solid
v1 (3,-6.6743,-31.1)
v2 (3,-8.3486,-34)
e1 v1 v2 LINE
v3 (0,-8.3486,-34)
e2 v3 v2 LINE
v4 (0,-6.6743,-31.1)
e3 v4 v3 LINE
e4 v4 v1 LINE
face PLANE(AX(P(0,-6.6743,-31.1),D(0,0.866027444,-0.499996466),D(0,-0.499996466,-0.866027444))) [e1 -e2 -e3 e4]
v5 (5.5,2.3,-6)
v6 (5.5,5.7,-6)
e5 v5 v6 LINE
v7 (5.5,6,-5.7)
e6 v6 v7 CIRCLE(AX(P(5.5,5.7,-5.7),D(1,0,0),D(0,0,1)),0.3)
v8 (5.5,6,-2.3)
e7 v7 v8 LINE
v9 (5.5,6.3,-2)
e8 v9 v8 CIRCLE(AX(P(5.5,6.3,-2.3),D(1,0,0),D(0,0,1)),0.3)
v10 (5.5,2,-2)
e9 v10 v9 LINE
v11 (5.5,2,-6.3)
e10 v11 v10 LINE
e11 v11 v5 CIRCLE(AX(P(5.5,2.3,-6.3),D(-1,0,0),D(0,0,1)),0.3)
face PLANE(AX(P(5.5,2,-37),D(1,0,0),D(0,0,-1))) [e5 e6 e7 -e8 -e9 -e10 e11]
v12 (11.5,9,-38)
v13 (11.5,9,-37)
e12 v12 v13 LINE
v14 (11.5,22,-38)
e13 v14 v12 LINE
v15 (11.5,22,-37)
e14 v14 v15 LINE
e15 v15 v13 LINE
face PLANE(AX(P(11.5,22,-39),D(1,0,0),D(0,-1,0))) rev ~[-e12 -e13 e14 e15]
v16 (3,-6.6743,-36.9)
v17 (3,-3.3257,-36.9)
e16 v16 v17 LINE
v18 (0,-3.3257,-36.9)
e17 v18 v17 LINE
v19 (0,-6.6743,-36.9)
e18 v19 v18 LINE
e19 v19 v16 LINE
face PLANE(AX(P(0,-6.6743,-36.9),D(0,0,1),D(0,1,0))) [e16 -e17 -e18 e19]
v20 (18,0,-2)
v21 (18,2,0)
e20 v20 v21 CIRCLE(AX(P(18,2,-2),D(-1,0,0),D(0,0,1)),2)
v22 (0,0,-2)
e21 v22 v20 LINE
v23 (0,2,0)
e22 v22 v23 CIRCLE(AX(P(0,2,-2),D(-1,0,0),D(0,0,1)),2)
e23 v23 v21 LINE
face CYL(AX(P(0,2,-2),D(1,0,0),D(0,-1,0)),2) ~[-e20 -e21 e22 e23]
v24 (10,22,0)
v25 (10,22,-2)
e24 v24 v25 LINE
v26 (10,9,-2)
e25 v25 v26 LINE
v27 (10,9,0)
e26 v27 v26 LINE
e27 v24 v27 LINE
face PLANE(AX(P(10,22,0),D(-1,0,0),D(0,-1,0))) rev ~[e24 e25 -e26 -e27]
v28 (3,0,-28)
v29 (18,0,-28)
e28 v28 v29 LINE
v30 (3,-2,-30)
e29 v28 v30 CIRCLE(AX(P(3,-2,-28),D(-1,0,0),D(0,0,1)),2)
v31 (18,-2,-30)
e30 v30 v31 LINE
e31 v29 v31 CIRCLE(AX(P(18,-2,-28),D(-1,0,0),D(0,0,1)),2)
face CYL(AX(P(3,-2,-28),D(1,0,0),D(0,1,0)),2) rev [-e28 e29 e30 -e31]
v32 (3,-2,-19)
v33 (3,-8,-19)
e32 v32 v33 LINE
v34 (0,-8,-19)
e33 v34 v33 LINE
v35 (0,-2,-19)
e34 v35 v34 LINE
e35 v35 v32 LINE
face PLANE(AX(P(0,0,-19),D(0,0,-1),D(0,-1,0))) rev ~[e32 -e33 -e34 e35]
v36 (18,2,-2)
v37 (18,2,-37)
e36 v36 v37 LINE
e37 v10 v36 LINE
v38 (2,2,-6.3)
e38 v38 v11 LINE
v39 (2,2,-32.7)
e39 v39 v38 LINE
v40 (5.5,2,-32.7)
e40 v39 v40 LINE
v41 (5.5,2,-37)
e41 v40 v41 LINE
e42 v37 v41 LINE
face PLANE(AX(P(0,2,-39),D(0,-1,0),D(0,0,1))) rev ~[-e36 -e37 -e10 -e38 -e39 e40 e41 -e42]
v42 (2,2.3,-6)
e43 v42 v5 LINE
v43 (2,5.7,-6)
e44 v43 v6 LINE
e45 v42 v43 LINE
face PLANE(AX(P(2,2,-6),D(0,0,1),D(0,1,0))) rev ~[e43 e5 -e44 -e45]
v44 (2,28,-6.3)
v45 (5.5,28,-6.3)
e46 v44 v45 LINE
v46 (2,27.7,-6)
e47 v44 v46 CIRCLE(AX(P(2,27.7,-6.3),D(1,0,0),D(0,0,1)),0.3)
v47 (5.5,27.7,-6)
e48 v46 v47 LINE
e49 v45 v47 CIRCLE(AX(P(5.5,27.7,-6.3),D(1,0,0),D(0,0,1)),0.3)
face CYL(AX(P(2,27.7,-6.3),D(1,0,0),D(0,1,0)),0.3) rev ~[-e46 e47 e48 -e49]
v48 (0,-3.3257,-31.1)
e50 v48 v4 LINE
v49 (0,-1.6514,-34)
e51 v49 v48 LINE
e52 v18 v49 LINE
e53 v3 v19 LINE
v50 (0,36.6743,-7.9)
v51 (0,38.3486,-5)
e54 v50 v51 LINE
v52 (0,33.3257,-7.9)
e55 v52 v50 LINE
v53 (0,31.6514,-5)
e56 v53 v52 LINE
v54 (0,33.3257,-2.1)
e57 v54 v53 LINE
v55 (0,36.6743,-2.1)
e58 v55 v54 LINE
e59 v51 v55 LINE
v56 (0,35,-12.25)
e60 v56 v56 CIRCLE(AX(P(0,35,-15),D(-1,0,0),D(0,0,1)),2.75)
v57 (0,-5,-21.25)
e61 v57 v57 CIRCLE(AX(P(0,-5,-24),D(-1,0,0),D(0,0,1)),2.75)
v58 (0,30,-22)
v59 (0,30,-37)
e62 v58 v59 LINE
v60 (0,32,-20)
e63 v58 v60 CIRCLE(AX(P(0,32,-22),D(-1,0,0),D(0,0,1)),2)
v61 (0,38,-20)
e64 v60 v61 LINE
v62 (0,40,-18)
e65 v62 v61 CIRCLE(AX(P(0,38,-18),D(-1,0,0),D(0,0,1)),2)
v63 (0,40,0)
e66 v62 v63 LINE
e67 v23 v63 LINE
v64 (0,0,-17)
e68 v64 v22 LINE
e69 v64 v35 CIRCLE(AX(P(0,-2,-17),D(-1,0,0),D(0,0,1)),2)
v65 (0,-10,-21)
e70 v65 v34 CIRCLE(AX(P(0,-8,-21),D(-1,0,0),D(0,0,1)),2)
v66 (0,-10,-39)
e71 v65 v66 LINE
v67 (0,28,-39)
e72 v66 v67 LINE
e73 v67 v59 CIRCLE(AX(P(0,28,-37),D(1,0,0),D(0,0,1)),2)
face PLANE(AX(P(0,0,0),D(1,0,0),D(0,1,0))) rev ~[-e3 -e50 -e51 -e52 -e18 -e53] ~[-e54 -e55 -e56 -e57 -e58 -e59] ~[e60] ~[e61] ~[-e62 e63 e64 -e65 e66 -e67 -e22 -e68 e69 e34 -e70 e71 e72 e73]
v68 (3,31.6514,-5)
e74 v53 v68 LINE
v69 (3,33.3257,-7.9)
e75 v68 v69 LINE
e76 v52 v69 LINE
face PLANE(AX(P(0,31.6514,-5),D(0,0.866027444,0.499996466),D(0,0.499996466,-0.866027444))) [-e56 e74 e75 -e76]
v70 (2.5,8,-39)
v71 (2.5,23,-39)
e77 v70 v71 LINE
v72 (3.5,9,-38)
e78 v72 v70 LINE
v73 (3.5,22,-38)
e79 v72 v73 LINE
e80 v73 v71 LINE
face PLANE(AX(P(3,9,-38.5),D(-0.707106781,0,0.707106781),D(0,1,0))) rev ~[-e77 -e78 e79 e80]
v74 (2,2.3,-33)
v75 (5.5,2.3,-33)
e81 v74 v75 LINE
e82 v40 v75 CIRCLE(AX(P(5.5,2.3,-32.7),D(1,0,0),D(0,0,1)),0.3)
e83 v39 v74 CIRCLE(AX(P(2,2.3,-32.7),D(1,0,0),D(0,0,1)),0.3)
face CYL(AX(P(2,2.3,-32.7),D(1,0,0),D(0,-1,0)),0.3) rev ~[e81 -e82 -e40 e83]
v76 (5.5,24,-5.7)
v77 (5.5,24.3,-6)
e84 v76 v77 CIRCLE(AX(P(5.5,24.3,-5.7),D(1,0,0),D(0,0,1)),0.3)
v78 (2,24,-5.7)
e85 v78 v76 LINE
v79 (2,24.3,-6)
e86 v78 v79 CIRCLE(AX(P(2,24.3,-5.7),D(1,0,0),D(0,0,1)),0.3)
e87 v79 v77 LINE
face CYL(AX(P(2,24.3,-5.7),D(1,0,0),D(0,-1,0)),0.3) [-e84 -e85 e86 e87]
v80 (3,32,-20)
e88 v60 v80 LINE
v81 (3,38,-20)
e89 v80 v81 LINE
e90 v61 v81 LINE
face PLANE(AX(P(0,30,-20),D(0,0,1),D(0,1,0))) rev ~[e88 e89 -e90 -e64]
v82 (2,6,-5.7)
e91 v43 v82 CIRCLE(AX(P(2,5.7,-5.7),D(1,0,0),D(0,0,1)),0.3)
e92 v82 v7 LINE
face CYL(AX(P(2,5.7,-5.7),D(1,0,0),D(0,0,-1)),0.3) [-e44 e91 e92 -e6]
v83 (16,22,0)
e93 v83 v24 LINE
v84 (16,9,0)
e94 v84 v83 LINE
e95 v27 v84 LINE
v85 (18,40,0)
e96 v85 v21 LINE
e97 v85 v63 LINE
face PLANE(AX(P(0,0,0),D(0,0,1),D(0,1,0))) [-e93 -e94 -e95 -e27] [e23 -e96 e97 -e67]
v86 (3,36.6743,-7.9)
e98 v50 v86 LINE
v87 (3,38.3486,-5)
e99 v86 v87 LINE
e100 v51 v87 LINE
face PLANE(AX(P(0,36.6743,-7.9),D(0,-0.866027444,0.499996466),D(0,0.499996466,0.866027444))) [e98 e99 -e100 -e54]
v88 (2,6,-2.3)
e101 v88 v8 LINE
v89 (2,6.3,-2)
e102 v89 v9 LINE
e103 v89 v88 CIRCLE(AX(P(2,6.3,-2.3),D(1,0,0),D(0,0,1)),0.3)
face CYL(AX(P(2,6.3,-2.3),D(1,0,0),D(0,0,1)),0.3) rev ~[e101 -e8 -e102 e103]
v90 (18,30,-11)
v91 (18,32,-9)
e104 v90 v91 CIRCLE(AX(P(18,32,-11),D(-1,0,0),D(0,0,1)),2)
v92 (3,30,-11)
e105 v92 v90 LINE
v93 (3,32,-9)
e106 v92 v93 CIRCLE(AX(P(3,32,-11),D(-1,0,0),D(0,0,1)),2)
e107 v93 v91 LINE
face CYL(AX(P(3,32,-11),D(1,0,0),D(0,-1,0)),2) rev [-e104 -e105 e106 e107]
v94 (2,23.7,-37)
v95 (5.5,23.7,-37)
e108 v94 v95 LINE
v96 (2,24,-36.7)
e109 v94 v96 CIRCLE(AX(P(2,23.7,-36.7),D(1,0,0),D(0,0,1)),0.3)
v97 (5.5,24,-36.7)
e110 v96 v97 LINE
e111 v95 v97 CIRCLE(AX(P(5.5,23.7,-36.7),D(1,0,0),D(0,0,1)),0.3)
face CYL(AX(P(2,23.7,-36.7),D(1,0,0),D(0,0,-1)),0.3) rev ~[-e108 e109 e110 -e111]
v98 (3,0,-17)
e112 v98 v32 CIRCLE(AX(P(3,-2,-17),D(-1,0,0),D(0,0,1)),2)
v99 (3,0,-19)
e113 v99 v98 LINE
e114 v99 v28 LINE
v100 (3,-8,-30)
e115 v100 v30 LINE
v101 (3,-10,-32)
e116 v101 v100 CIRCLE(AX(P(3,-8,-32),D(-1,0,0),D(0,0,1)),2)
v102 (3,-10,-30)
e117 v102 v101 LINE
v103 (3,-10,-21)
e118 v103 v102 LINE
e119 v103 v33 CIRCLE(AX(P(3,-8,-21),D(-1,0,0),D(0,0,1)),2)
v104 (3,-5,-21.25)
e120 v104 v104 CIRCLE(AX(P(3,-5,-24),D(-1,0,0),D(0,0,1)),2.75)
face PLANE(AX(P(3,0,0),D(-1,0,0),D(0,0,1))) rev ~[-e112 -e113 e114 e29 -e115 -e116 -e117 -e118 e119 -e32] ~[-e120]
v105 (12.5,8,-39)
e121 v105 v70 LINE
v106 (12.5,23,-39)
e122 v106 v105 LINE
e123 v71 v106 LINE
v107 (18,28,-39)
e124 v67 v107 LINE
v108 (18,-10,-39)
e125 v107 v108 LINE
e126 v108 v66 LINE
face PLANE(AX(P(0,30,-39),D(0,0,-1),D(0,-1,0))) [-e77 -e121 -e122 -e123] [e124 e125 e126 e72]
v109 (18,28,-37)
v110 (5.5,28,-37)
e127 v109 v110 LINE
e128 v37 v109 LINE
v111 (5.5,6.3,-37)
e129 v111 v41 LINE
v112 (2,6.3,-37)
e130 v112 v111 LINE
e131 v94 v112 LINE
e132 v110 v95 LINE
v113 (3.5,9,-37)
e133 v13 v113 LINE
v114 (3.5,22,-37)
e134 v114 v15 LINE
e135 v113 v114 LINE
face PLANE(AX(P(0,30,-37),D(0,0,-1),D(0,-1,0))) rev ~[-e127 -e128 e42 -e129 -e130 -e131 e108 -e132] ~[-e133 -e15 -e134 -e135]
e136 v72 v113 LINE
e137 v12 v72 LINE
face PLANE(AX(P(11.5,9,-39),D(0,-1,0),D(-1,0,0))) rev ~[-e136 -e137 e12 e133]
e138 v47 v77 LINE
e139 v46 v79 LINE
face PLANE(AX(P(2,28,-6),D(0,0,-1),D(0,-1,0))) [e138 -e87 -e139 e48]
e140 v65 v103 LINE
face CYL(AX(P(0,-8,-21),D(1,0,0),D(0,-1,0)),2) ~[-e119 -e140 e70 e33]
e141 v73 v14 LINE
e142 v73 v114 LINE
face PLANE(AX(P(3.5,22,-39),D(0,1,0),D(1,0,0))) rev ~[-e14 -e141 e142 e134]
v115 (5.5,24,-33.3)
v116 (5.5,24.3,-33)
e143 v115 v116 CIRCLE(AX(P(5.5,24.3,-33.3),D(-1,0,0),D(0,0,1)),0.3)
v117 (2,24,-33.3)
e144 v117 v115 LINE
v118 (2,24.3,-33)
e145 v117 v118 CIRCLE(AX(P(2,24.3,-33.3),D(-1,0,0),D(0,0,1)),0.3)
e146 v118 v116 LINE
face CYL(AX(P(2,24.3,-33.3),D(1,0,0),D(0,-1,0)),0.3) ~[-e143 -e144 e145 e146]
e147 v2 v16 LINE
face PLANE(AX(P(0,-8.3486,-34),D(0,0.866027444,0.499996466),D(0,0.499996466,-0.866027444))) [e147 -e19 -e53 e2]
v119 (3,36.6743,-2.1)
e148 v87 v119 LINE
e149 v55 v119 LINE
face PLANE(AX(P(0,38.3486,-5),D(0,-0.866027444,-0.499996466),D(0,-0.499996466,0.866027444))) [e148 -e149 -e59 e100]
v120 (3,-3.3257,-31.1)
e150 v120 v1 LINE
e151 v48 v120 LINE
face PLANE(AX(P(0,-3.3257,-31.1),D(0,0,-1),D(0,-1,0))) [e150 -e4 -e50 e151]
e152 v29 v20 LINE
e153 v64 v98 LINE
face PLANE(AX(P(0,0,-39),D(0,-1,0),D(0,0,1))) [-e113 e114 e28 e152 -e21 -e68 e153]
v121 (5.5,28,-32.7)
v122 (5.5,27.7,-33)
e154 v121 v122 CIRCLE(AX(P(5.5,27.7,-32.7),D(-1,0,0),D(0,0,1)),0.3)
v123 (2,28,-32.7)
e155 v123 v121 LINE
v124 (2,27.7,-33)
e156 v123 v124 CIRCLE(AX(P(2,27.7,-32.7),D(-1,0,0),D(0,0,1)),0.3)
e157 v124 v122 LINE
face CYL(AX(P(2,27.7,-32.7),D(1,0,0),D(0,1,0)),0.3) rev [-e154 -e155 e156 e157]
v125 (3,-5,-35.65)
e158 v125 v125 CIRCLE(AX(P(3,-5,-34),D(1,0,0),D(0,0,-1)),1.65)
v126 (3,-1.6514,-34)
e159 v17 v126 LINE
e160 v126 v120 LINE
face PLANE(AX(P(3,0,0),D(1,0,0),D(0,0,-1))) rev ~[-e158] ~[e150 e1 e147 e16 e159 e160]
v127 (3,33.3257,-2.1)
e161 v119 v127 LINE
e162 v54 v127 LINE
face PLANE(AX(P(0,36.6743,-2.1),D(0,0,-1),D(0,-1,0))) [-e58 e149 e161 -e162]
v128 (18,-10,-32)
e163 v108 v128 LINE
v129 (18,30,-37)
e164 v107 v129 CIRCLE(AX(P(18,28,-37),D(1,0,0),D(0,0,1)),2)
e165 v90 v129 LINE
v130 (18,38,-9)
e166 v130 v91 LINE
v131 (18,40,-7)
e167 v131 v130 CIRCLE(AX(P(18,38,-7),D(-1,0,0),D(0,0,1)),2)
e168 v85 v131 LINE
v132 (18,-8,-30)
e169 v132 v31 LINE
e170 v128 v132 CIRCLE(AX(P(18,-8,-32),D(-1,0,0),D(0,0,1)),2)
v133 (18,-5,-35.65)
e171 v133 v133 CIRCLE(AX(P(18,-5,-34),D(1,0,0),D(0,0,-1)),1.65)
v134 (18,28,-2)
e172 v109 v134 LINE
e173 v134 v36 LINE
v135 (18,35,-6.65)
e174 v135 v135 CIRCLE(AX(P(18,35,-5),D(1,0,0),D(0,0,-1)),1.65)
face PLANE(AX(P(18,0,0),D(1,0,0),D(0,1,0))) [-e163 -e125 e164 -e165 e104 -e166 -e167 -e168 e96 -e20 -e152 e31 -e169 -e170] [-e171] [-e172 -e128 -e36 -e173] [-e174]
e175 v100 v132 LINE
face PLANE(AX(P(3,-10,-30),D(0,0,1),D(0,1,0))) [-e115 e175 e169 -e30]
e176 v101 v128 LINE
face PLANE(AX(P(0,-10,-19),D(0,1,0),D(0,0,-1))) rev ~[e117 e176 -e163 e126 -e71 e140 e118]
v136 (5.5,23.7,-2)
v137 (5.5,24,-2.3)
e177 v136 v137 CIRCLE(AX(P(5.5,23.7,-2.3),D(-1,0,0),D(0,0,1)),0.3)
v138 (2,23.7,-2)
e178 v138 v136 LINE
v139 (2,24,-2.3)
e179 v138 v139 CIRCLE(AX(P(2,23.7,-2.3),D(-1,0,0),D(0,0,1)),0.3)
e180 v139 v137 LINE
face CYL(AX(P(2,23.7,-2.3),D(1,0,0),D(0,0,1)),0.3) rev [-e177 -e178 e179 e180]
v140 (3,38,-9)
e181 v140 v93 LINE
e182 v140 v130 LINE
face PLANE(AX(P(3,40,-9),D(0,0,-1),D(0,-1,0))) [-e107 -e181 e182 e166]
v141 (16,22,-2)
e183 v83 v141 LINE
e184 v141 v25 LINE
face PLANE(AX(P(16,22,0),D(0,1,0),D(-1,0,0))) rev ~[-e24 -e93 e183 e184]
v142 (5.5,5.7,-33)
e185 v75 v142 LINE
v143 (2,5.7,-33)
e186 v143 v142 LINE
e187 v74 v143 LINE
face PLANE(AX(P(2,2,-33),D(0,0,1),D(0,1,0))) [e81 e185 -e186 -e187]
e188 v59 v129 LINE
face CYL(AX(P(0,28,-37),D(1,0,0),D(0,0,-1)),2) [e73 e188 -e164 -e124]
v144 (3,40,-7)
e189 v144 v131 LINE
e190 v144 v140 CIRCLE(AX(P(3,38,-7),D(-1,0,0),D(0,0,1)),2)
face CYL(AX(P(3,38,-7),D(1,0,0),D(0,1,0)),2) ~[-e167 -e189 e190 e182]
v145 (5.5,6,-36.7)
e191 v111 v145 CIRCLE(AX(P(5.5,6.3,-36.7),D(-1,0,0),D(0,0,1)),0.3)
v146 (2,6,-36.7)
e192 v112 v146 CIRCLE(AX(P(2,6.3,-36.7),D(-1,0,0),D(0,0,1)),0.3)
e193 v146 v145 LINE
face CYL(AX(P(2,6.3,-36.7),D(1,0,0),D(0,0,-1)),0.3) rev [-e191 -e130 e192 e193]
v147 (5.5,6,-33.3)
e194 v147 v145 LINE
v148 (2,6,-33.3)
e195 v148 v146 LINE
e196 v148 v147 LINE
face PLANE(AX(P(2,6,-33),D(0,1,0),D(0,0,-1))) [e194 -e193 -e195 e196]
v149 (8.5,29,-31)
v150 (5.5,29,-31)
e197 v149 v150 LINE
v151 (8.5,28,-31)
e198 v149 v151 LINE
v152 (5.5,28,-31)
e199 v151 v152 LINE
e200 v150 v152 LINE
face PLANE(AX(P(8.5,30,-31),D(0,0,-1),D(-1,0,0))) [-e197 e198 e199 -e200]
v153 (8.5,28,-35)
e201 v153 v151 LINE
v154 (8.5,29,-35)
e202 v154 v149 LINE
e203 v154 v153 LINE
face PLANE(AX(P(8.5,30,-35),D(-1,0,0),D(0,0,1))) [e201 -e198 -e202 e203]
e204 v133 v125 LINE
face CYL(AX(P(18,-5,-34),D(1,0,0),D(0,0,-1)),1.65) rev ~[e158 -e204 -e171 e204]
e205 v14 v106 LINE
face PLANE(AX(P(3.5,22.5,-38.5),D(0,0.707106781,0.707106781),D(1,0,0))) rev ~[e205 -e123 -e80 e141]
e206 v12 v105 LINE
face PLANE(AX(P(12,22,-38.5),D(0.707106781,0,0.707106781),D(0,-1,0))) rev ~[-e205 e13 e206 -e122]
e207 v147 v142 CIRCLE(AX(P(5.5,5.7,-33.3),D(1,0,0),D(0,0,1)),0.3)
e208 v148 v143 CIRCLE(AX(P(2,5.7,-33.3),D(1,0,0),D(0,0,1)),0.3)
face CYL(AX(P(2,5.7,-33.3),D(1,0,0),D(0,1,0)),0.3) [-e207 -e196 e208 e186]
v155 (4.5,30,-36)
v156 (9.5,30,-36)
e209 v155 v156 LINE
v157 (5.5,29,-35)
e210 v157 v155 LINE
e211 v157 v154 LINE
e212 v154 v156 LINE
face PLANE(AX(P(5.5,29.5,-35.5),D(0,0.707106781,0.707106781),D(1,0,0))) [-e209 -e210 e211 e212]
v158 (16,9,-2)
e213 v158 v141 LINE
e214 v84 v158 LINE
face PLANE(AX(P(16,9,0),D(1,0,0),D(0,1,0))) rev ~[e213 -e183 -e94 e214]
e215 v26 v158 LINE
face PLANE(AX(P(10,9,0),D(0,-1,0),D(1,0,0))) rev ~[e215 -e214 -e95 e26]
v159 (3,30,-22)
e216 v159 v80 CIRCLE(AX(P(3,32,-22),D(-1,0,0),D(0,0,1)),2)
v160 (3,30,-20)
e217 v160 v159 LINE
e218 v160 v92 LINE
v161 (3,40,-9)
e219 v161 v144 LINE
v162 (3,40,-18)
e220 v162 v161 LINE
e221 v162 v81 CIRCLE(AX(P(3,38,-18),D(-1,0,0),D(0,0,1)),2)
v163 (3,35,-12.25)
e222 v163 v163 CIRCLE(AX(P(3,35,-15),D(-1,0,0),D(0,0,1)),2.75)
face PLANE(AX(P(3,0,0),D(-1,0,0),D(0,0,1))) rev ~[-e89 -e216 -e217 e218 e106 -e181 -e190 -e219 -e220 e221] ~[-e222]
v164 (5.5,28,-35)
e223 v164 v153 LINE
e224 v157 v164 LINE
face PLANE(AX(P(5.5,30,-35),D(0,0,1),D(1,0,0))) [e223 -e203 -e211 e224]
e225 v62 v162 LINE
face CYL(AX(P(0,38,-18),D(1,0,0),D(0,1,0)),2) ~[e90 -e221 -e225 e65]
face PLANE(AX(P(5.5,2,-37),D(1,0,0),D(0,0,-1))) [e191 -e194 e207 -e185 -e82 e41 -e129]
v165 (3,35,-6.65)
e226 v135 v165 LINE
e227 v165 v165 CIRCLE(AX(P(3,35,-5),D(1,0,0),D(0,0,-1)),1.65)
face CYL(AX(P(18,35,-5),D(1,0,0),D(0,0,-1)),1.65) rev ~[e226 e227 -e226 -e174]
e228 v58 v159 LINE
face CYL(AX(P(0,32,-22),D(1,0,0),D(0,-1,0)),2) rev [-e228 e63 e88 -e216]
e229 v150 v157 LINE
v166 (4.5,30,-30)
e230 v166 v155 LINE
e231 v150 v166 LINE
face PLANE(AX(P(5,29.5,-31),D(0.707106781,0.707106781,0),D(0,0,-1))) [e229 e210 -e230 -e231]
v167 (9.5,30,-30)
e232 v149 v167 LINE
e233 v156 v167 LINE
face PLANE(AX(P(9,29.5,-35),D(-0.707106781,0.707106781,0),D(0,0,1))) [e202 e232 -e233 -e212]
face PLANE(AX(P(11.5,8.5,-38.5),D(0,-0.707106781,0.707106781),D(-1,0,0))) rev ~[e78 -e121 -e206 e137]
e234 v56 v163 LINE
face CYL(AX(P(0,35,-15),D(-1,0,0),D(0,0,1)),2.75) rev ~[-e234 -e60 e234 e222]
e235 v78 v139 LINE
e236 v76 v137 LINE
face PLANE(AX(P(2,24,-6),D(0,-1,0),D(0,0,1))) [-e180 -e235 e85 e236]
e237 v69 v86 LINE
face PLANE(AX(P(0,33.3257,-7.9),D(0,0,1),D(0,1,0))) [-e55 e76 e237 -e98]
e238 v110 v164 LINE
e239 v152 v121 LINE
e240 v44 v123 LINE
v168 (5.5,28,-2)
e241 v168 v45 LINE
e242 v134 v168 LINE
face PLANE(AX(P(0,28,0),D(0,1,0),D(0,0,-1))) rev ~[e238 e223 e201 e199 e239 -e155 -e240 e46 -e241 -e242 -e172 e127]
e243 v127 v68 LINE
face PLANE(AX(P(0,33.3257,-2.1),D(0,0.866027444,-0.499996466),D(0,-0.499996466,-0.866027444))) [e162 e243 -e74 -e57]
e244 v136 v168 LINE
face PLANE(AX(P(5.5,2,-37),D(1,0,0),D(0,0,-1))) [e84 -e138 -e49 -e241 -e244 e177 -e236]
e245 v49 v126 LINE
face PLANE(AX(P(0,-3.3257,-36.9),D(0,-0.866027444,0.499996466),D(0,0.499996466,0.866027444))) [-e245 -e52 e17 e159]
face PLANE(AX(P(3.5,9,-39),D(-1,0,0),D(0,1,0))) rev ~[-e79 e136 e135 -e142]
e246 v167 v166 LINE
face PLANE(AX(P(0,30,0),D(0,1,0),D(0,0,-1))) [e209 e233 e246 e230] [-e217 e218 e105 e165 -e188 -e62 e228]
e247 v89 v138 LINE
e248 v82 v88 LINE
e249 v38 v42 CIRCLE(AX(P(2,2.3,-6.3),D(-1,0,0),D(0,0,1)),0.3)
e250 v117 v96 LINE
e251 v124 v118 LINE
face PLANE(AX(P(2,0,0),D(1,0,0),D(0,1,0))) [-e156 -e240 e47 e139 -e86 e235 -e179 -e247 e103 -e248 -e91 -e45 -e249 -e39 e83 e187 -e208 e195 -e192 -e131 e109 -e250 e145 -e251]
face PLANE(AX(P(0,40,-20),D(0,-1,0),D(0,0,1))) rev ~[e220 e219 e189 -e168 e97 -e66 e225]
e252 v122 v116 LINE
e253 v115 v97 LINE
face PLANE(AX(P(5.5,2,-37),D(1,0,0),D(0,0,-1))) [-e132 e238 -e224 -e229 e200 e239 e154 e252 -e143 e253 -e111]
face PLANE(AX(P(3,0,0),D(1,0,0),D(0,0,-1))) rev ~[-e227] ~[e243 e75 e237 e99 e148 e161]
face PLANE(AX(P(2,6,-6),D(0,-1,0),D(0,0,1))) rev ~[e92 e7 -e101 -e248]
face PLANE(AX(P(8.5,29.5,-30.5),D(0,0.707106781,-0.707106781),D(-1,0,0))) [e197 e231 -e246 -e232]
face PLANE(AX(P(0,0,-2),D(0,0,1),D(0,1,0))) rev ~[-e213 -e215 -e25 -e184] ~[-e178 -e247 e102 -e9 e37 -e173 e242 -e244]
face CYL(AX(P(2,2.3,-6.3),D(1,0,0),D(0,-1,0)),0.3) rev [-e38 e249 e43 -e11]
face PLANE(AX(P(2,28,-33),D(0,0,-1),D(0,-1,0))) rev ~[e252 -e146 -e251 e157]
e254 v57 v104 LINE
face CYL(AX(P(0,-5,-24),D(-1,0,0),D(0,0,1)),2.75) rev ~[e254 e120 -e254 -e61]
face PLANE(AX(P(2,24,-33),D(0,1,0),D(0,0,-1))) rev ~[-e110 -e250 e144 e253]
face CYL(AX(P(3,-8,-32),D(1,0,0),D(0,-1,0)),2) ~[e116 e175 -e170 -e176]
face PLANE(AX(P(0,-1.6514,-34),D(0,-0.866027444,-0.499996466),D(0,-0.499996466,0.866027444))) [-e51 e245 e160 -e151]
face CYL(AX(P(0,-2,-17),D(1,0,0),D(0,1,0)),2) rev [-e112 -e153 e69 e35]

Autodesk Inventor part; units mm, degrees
ref_plane "YZ Plane" through (0, 0, 0) normal (1, 0, 0) x (0, 1, 0)
ref_plane "XZ Plane" through (0, 0, 0) normal (0, 1, 0) x (-1, 0, 0)
ref_plane "XY Plane" through (0, 0, 0) normal (0, 0, 1) x (1, 0, 0)
sketch "Skizze1" plane through (0, 0, 0) normal (1, 0, 0) x (0, 1, 0)
  line L0 (0, 0) -> (30, 0)
  line L1 (30, 0) -> (30, -39)
  line L2 (30, -39) -> (0, -39)
  line L3 (0, -39) -> (0, 0)
  dimension "d0" = 39
  dimension "d1" = 30
extrude "Extrusion1" add sketch "Skizze1" along normal blind 18
shell "Wandung1" thickness 2 removed faces 1 at (18, 10, -13)
sketch "Skizze2" plane through (2, 2, -37) normal (1, 0, 0) x (0, 0, -1)
  line L0 (-35, 26) -> (-35, 0) projected
  line L1 (-35, 26) -> (-31, 26)
  line L2 (-31, 26) -> (-31, 22)
  line L3 (-31, 22) -> (-35, 22)
  line L4 (-35, 22) -> (-35, 26)
  line L5 (0, 26) -> (0, 0) projected
  line L6 (0, 26) -> (-4, 26)
  line L7 (-4, 26) -> (-4, 22)
  line L8 (-4, 22) -> (0, 22)
  line L9 (0, 22) -> (0, 26)
  line L10 (0, 0) -> (-4, 0)
  line L11 (-4, 0) -> (-4, 4)
  line L12 (-4, 4) -> (0, 4)
  line L13 (0, 4) -> (0, 0)
  line L14 (-35, 0) -> (0, 0) projected
  line L15 (-35, 0) -> (-31, 0)
  line L16 (-31, 0) -> (-31, 4)
  line L17 (-31, 4) -> (-35, 4)
  line L18 (-35, 4) -> (-35, 0)
  point P0 (-37, -2)
  point P1 (-35, 4)
  point P2 (-31, 0)
  point P3 (0, 4)
  point P4 (0, 22)
  dimension "d5" = 4
  dimension "d6" = 4
  dimension "d7" = 4
  dimension "d8" = 4
extrude "Extrusion2" add sketch "Skizze2" along normal blind 3.5
fillet "Rundung1" radius 0.3 12 edges at (3.75, 24, -6) (3.75, 24, -2) (3.75, 28, -6) (3.75, 28, -33) (3.75, 24, -33) (3.75, 24, -37) (3.75, 6, -37) (3.75, 6, -33) (3.75, 2, -33) (3.75, 6, -2) (3.75, 6, -6) (3.75, 2, -6)
sketch "Skizze3" plane through (0, 0, -39) normal (0, 0, -1) x (-1, 0, 0)
  line L0 (-10.5, 20) -> (-6.5, 20)
  line L1 (-6.5, 20) -> (-6.5, 11)
  line L2 (-6.5, 11) -> (-10.5, 11)
  line L3 (-10.5, 11) -> (-10.5, 20)
  line L4 (0, 30) -> (-18, 30) projected
  line L5 (0, 0) -> (-18, 0) projected
  line L6 (0, 0) -> (0, 30) projected
  dimension "d12" = 9
  dimension "d13" = 4
  dimension "d15" = 11
  dimension "d16" = 6.5
extrude "Extrusion3" cut sketch "Skizze3" against normal blind 3.5
sketch "Skizze4" plane through (0, 0, -39) normal (0, 0, -1) x (-1, 0, 0)
  line L0 (-11.5, 9) -> (-3.5, 9)
  line L1 (-3.5, 9) -> (-3.5, 22)
  line L2 (-3.5, 22) -> (-11.5, 22)
  line L3 (-11.5, 22) -> (-11.5, 9)
  line L4 (-10.5, 11) -> (-10.5, 20) projected
  line L5 (-6.5, 11) -> (-10.5, 11) projected
  point P0 (0, 0)
  dimension "d19" = 1
  dimension "d20" = 8
  dimension "d21" = 13
  dimension "d22" = 2
extrude "Extrusion4" cut sketch "Skizze4" against normal blind 2
sketch "Skizze5" plane through (0, 0, 0) normal (0, 0, 1) x (1, 0, 0)
  line L0 (16, 22) -> (10, 22)
  line L1 (10, 22) -> (10, 9)
  line L2 (10, 9) -> (16, 9)
  line L3 (16, 9) -> (16, 22)
  line L4 (18, 30) -> (18, 0) projected
  line L5 (0, 30) -> (18, 30) projected
  point P0 (0, 0)
  dimension "d25" = 13
  dimension "d26" = 6
  dimension "d27" = 2
  dimension "d28" = 8
extrude "Extrusion5" cut sketch "Skizze5" against normal blind 2
sketch "Skizze6" plane through (0, 30, 0) normal (0, 1, 0) x (1, 0, 0)
  line L0 (8.5, 31) -> (5.5, 31)
  line L1 (5.5, 31) -> (5.5, 35)
  line L2 (5.5, 35) -> (8.5, 35)
  line L3 (8.5, 35) -> (8.5, 31)
  line L4 (0, 39) -> (18, 39) projected
  line L5 (0, 39) -> (0, 0) projected
  dimension "d31" = 3
  dimension "d32" = 4
  dimension "d33" = 4
  dimension "d34" = 5.5
extrude "Extrusion6" cut sketch "Skizze6" against normal blind 2
chamfer "Fase1" distance 1 angle 45 4 edges at (5.5, 30, -33) (7, 30, -31) (7, 30, -35) (8.5, 30, -33)
chamfer "Fase2" distance 1 angle 45 4 edges at (3.5, 15.5, -39) (7.5, 9, -39) (11.5, 15.5, -39) (7.5, 22, -39)
sketch "Skizze7" plane through (0, 0, 0) normal (-1, 0, 0) x (0, 0, 1)
  line L0 (0, 0) -> (-39, 0) projected
  line L1 (-39, 30) -> (0, 30) projected
  line L2 (0, 30) -> (-20, 30)
  line L3 (-20, 30) -> (-20, 40)
  line L4 (-20, 40) -> (0, 40)
  line L5 (0, 40) -> (0, 30)
  line L6 (-39, 0) -> (-19, 0)
  line L7 (-19, 0) -> (-19, -10)
  line L8 (-19, -10) -> (-39, -10)
  line L9 (-39, -10) -> (-39, 0)
  dimension "d43" = 10
  dimension "d44" = 20
  dimension "d45" = 20
  dimension "d46" = 10
extrude "Extrusion7" add sketch "Skizze7" against normal blind 3
sketch "Skizze8" plane through (0, 0, 0) normal (-1, 0, 0) x (0, 0, 1)
  line L0 (-2.1, 36.6743) -> (-2.1, 33.3257)
  line L1 (-2.1, 33.3257) -> (-5, 31.6514)
  line L2 (-5, 31.6514) -> (-7.9, 33.3257)
  line L3 (-7.9, 33.3257) -> (-7.9, 36.6743)
  line L4 (-7.9, 36.6743) -> (-5, 38.3486)
  line L5 (-5, 38.3486) -> (-2.1, 36.6743)
  line L6 (-31.1, -6.6743) -> (-34, -8.3486)
  line L7 (-34, -8.3486) -> (-36.9, -6.6743)
  line L8 (-36.9, -6.6743) -> (-36.9, -3.3257)
  line L9 (-36.9, -3.3257) -> (-34, -1.6514)
  line L10 (-34, -1.6514) -> (-31.1, -3.3257)
  line L11 (-31.1, -3.3257) -> (-31.1, -6.6743)
  line L12 (0, 0) -> (0, 40) projected
  line L13 (0, 40) -> (-20, 40) projected
  line L14 (-39, -10) -> (-39, 30) projected
  line L15 (-39, -10) -> (-19, -10) projected
  circle A0 centre (-24, -5) radius 2.75
  circle A1 centre (-15, 35) radius 2.75
  line L16 (-19, -10) -> (-19, 0) projected
  line L17 (-20, 40) -> (-20, 30) projected
  point P0 (-5, 35)
  point P1 (-34, -5)
  dimension "d49" = 5.8
  dimension "d50" = 5
  dimension "d51" = 5
  dimension "d52" = 5
  dimension "d53" = 5.8
  dimension "d54" = 5
  dimension "d57" = 5.5
  dimension "d58" = 5
  dimension "d59" = 5
  dimension "d60" = 5
  dimension "d61" = 5
extrude "Extrusion8" cut sketch "Skizze8" against normal blind 3
sketch "Skizze9" plane through (3, 0, 0) normal (1, 0, 0) x (0, 0, -1)
  line L0 (19, 0) -> (39, 0) projected
  line L1 (39, -10) -> (30, -10)
  line L2 (30, -10) -> (30, 0)
  line L3 (30, 0) -> (39, 0)
  line L4 (39, 0) -> (39, -10)
  line L5 (19, -10) -> (39, -10) projected
  line L6 (0, 0) -> (0, 40) projected
  line L7 (39, 30) -> (0, 30) projected
  line L8 (0, 40) -> (9, 40)
  line L9 (9, 40) -> (9, 30)
  line L10 (9, 30) -> (0, 30)
  line L11 (0, 30) -> (0, 40)
  line L12 (39, -10) -> (39, 0) projected
  dimension "d62" = 9
  dimension "d63" = 9
extrude "Extrusion9" add sketch "Skizze9" along normal blind 15
sketch "Skizze10" plane through (18, 0, 0) normal (1, 0, 0) x (0, 0, -1)
  circle A0 centre (34, -5) radius 1.65
  line L0 (39, -10) -> (39, 30) projected
  line L1 (30, -10) -> (39, -10) projected
  circle A1 centre (5, 35) radius 1.65
  line L2 (0, 40) -> (0, 0) projected
  line L3 (9, 40) -> (0, 40) projected
  dimension "d66" = 5
  dimension "d67" = 3.3
  dimension "d68" = 5
  dimension "d69" = 5
  dimension "d70" = 5
  dimension "d71" = 3.3
extrude "Extrusion10" cut sketch "Skizze10" against normal blind 19
fillet "Rundung2" radius 2 10 edges at (9, 0, 0) (9, 30, -39) (10.5, -10, -30) (1.5, -10, -19) (1.5, 0, -19) (1.5, 30, -20) (1.5, 40, -20) (10.5, 40, -9) (10.5, 0, -30) (10.5, 30, -9)
properties part number "gehaeuse_wemos"
